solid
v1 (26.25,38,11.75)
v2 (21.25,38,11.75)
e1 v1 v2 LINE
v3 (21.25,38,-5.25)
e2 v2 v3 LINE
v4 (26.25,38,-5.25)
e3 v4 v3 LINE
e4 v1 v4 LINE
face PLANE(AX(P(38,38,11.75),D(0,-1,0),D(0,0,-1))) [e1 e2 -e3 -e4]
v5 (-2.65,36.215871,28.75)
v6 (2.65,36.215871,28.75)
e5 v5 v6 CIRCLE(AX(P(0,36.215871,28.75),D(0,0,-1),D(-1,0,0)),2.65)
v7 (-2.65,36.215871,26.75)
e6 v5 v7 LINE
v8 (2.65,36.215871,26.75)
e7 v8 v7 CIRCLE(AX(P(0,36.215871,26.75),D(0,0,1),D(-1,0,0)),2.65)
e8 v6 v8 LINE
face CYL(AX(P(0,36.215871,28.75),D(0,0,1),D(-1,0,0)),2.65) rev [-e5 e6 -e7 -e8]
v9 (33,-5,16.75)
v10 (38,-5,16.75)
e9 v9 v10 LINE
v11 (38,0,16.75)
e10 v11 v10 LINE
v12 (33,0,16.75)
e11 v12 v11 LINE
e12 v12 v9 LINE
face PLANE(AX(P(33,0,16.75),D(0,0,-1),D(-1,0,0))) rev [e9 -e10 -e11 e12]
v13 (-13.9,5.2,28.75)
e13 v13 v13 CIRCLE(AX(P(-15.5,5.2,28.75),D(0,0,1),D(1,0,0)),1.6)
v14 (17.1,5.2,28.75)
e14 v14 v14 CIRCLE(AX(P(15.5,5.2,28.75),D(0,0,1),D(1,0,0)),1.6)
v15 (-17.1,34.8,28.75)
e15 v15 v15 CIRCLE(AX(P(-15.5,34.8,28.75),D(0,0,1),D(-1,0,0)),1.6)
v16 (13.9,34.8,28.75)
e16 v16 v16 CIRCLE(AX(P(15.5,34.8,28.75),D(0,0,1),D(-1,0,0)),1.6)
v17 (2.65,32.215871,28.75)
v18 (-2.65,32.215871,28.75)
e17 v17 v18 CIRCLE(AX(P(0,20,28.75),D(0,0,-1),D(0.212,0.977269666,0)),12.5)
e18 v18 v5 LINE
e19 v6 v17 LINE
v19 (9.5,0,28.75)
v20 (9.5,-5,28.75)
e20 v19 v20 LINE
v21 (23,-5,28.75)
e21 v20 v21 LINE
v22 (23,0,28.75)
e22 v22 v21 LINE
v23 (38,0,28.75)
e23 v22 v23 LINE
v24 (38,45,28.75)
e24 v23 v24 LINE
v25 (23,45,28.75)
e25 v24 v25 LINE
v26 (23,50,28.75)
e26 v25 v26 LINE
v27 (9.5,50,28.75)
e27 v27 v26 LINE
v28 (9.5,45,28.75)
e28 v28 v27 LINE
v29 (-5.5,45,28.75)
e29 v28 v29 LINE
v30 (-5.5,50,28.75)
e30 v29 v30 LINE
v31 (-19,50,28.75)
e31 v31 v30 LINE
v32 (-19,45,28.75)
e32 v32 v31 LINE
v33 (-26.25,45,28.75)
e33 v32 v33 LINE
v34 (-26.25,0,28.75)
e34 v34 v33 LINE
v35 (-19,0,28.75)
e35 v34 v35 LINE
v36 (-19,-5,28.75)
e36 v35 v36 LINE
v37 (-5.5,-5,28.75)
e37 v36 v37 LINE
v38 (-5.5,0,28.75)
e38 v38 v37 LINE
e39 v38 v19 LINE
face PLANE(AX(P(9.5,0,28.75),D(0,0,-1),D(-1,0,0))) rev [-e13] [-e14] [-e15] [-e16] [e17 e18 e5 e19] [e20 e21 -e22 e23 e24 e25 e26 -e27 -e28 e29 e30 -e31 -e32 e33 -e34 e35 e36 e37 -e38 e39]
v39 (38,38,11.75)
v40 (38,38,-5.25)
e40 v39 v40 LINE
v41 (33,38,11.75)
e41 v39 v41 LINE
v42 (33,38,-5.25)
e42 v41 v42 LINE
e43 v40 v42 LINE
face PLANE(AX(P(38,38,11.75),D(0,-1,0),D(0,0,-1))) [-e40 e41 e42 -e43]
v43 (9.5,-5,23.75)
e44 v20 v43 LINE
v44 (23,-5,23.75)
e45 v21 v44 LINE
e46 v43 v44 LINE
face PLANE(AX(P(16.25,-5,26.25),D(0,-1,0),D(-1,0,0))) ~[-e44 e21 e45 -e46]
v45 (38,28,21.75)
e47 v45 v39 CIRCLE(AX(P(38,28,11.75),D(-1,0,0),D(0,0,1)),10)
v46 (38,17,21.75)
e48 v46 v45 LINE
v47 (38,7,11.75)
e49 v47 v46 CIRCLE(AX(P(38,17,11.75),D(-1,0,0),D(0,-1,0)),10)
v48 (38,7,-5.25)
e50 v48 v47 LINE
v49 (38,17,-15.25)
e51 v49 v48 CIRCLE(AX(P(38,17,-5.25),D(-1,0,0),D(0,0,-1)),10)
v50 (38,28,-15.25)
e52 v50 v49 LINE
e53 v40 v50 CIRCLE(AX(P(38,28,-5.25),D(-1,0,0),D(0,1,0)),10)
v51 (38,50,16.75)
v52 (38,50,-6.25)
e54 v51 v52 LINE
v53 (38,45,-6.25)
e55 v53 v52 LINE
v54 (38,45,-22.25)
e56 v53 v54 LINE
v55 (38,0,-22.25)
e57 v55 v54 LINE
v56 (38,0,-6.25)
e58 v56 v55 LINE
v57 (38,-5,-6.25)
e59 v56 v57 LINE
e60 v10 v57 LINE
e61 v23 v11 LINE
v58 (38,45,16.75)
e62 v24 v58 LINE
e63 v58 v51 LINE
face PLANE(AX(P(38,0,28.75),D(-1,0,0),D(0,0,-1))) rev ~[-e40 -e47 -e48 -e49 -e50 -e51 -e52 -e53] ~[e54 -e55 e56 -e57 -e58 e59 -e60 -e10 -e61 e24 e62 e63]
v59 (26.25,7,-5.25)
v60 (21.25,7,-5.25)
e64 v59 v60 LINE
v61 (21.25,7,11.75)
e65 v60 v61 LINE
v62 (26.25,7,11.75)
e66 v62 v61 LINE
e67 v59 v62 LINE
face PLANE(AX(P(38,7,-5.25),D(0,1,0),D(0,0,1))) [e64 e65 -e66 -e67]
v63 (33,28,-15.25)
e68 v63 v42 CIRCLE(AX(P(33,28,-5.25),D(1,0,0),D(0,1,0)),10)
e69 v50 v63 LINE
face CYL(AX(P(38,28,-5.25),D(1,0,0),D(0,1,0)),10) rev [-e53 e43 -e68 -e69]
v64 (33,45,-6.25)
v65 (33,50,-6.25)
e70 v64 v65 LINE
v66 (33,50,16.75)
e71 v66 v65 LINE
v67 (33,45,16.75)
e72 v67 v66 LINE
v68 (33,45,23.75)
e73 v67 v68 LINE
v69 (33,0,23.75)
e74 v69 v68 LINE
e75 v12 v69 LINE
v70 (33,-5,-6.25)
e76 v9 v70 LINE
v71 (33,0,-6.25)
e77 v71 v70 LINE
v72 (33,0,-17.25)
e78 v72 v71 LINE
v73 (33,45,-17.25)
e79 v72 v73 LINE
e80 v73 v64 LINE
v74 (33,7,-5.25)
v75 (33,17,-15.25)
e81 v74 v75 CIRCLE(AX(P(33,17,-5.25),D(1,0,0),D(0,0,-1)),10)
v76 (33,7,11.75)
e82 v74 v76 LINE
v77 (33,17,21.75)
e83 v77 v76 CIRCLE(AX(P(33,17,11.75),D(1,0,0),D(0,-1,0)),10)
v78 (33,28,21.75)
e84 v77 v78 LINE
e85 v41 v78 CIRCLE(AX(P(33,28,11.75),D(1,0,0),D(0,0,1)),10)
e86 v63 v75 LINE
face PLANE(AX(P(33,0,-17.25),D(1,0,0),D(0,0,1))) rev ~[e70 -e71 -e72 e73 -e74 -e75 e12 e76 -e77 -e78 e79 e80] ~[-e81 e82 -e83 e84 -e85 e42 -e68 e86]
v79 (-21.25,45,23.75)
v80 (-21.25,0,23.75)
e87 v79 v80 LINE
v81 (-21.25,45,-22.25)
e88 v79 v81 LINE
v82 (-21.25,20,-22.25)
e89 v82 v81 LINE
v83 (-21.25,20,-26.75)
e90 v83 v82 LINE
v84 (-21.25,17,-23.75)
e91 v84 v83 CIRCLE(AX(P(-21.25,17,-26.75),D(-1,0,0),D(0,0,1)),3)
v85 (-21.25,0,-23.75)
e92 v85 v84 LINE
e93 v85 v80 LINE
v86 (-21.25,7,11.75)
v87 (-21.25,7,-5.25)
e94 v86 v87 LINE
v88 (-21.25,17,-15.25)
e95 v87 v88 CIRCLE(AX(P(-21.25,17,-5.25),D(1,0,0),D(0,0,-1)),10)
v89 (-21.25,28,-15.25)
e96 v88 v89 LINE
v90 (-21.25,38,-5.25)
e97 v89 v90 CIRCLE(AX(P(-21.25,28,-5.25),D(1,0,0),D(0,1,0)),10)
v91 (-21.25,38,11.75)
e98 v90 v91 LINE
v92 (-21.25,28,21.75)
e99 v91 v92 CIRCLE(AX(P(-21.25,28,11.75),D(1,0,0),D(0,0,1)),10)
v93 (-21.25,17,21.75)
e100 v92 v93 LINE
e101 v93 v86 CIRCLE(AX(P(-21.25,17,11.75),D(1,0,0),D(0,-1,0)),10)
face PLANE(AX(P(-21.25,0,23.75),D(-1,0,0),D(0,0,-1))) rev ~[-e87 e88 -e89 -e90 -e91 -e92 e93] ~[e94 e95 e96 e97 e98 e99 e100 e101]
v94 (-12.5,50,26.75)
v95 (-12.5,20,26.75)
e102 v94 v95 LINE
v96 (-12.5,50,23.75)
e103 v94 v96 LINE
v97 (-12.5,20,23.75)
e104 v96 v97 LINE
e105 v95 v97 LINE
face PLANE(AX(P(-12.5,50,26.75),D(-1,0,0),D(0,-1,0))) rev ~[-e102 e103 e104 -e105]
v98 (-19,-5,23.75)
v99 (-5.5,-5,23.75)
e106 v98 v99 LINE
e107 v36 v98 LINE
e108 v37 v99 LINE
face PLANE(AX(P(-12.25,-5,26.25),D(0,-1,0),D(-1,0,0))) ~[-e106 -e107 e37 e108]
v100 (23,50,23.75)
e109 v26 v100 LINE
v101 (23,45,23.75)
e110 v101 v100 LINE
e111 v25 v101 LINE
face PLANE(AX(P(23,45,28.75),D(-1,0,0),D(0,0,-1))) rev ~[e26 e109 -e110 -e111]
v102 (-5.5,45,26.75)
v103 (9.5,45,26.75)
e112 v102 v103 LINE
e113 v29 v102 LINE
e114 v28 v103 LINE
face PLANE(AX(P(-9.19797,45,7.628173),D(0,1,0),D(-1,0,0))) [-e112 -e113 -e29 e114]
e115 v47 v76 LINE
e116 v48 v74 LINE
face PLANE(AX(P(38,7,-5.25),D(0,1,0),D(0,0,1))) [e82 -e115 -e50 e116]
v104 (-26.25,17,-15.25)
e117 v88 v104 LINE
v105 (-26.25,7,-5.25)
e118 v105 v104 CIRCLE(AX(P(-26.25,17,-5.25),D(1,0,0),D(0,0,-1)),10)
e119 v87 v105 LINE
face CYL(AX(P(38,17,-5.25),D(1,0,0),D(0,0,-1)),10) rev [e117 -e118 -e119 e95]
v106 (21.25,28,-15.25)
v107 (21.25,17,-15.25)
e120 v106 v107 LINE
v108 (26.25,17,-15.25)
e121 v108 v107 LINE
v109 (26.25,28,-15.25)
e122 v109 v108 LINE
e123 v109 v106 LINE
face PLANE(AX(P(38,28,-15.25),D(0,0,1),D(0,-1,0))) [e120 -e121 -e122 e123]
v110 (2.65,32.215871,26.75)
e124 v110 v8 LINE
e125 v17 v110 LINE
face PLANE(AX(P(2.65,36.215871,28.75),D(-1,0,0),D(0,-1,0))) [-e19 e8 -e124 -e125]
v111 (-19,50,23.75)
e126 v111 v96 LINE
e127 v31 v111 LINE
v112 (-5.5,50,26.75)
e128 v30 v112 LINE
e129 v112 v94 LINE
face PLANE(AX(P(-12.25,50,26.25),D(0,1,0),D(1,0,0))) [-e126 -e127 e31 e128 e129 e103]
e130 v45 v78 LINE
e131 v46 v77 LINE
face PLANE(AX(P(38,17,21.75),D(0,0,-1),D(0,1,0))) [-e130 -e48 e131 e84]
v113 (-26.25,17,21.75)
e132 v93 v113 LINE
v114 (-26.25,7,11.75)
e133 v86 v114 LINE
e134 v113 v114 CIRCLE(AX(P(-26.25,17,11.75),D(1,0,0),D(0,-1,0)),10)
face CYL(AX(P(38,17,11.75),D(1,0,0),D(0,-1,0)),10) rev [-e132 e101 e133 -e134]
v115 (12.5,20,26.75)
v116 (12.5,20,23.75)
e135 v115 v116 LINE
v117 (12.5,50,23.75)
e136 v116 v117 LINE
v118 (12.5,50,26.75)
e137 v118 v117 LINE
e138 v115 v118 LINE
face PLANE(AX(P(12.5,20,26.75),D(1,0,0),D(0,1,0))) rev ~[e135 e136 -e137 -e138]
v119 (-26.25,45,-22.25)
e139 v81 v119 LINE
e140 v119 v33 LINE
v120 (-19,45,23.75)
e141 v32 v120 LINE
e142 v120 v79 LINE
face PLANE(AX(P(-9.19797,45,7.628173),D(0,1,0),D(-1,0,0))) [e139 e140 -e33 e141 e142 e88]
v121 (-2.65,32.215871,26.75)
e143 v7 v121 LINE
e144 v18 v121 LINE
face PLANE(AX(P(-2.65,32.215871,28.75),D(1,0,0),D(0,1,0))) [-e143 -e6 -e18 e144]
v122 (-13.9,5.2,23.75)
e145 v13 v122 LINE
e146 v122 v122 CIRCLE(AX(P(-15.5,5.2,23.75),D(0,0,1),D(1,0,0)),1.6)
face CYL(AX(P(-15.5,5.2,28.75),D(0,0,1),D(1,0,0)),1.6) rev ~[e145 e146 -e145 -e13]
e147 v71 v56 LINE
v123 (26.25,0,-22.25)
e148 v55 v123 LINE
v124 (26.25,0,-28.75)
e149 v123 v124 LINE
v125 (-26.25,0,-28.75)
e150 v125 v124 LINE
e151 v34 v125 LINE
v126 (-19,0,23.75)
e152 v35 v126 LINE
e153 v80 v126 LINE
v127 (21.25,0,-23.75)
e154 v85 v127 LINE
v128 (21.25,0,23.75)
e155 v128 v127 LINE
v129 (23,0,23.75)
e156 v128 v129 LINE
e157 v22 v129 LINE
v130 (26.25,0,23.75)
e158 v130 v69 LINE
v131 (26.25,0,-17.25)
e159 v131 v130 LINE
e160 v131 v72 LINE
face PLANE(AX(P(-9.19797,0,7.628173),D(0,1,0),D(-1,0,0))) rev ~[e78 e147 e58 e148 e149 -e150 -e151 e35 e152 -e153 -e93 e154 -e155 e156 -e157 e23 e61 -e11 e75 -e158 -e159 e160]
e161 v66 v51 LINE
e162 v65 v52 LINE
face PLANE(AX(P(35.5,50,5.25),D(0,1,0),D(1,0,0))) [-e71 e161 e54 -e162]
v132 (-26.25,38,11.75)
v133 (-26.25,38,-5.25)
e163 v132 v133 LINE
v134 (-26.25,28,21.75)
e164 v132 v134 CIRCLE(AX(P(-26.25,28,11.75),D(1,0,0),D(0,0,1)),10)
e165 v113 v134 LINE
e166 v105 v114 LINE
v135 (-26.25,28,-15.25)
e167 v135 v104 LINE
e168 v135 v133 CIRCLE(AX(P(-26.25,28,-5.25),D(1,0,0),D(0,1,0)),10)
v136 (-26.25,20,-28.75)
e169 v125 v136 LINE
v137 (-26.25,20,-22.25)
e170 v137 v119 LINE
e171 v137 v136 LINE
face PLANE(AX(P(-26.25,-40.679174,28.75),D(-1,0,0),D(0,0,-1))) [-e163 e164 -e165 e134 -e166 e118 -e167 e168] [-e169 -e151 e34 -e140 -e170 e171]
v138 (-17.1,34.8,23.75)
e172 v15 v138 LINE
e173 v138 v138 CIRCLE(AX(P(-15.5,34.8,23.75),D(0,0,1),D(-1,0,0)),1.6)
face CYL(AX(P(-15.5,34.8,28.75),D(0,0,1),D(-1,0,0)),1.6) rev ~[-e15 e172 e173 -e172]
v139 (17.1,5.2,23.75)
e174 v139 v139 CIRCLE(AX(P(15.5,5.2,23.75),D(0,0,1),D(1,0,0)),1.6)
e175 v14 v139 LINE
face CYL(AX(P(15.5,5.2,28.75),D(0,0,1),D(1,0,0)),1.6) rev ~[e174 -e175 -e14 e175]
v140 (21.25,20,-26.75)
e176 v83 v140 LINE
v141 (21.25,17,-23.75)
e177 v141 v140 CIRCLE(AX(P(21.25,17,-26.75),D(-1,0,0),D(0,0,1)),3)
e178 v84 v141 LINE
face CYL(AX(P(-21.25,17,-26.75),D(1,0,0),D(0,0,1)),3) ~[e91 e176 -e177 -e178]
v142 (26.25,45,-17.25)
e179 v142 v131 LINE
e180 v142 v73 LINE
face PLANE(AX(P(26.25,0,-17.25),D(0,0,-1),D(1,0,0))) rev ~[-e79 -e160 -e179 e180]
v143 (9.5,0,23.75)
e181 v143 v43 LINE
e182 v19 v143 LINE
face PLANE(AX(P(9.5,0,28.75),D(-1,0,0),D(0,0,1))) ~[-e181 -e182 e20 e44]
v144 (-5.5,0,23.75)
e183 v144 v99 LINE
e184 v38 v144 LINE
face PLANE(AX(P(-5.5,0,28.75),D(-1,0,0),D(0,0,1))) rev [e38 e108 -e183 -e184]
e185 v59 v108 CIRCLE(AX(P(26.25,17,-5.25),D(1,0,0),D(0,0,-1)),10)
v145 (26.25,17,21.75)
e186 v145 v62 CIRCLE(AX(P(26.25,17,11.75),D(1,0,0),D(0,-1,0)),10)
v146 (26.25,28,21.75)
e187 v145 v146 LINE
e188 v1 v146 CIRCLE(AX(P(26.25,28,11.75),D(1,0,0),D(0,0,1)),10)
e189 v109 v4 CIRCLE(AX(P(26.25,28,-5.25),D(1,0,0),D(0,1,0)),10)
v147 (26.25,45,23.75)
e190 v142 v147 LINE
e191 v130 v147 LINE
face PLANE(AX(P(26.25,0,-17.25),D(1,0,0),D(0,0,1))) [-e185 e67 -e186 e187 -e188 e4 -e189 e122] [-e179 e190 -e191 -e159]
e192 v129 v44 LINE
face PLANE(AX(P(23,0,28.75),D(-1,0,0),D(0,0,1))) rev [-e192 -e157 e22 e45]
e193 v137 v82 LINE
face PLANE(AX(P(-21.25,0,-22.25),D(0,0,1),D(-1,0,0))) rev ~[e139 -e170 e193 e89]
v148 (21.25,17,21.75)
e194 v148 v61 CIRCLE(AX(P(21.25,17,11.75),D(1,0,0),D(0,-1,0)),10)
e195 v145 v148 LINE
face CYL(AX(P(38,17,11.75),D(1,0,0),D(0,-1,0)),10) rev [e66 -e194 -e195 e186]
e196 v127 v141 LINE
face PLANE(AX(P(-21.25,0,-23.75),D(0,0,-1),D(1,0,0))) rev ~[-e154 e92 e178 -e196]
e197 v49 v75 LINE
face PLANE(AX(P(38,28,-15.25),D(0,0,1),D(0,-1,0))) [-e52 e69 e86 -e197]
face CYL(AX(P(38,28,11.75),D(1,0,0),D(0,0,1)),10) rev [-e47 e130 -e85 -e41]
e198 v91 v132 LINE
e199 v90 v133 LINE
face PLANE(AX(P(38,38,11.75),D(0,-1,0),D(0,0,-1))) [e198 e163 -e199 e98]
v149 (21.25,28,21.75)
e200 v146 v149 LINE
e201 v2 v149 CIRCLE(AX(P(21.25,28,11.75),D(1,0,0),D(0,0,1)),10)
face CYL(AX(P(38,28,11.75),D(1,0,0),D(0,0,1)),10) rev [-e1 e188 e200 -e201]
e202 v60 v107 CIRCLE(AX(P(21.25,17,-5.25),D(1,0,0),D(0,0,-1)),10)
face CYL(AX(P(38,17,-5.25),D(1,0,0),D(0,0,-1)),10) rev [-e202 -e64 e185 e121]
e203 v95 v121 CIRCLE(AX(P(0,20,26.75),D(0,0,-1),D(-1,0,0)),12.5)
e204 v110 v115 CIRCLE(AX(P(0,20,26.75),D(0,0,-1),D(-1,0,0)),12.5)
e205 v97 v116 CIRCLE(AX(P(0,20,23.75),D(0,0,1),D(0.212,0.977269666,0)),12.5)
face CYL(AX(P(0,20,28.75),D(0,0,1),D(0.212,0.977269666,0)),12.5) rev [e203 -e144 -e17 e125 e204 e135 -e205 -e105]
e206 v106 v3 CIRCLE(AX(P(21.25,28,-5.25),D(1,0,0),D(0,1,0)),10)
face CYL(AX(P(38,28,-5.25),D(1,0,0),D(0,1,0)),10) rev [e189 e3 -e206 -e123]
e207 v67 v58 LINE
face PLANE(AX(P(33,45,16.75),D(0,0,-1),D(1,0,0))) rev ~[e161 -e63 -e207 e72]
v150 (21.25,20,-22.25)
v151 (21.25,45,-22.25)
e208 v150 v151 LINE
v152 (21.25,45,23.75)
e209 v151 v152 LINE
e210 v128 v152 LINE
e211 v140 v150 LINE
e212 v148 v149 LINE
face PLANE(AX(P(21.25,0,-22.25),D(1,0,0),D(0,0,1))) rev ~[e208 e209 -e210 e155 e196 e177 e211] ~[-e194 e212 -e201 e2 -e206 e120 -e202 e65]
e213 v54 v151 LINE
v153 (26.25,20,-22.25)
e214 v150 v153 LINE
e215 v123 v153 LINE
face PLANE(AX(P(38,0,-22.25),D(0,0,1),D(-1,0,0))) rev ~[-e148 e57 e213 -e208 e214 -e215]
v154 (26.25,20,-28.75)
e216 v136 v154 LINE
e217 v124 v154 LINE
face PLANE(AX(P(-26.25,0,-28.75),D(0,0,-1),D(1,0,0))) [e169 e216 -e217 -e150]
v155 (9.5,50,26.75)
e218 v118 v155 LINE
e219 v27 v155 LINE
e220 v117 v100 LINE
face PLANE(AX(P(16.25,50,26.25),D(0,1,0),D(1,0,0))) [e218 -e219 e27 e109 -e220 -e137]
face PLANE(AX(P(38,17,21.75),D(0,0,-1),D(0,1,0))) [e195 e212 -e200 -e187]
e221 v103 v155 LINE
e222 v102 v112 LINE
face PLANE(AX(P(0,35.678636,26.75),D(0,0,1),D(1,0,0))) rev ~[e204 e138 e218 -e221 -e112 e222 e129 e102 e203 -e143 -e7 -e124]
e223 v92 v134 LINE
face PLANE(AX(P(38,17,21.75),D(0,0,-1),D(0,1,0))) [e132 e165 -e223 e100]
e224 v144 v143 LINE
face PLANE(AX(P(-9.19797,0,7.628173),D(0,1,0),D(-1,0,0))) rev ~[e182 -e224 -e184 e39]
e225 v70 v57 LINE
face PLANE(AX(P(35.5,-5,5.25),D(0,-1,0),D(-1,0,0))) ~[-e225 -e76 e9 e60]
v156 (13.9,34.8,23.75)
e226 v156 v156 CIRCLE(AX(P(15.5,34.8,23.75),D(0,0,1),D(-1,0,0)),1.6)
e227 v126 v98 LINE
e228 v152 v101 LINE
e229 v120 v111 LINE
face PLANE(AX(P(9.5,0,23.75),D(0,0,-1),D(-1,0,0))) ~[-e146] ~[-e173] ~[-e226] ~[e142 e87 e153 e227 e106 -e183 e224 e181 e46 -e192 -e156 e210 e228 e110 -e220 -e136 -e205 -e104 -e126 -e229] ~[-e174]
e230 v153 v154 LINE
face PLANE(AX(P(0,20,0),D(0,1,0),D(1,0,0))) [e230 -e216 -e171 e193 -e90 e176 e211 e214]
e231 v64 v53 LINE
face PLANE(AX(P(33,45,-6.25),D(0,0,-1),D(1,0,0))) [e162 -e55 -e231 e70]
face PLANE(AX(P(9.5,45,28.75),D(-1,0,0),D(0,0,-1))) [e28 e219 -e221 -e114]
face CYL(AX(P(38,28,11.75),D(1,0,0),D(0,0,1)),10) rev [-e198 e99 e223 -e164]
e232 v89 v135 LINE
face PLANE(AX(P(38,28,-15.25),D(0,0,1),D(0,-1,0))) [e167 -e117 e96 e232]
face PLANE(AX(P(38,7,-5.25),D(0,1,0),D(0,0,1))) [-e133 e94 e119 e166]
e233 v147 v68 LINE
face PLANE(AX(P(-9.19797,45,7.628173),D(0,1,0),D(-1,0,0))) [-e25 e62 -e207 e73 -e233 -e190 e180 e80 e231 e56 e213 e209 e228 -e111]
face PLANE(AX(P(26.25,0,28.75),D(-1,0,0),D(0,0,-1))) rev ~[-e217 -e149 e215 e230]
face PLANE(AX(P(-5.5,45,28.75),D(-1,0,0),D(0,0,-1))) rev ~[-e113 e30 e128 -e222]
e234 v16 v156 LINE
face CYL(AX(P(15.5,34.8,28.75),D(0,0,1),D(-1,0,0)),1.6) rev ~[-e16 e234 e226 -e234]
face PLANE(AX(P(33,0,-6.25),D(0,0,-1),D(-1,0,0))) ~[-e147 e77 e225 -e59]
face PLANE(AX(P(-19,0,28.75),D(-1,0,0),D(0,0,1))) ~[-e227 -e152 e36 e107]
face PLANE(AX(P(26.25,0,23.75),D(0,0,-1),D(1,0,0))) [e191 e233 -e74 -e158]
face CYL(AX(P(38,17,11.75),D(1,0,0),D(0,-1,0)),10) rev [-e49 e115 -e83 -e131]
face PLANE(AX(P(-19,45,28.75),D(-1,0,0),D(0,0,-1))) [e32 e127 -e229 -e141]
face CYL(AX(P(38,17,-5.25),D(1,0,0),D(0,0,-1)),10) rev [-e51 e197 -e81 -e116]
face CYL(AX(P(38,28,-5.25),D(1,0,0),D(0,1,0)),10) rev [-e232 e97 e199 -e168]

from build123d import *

# Parameters (mm, degrees)
ESQUISSE1_W                  = 52.5
ESQUISSE1_H                  = 57.5
ESQUISSE1_W_2                = 42.5
ESQUISSE1_H_2                = 47.5
EXTRU_MINCE1_DEPTH           = 20
ESQUISSE3_W                  = 6.75
ESQUISSE3_H                  = 41
ESQUISSE3_W_2                = 30.75
BOSS_EXTRU_1_DEPTH           = 45
ESQUISSE6_W                  = 5
ESQUISSE6_H                  = 23
ESQUISSE6_W_2                = 13.5
ESQUISSE6_H_2                = 5
BOSS_EXTRU_3_DEPTH           = 5
ENL_V_MAT_EXTRU_1_REACH      = 100.236
ESQUISSE2_R                  = 1.6
ENL_V_START                  = -3
ENL_V_MAT_EXTRU_2_DEPTH      = 3
CONG_1_R                     = 3
ENL_V_MAT_EXTRU_3_DEPTH      = 116.440731547
ENL_V_MAT_EXTRU_4_DEPTH      = 95.578010129
ENL_V_MAT_EXTRU_5_DEPTH      = 85.679173945
ENL_V_MAT_EXTRU_5_DEPTH_BACK = 85.679173945
ESQUISSE10_W                 = 35.75
ESQUISSE10_H                 = 51


with BuildPart() as part:
    # Esquisse1 → Extru.-Mince1 (new body)
    with BuildSketch(Plane(origin=(0, 0, 0), x_dir=(1, 0, 0), z_dir=(0, 1, 0))):
        Rectangle(ESQUISSE1_W, ESQUISSE1_H)
        Rectangle(ESQUISSE1_W_2, ESQUISSE1_H_2, mode=Mode.SUBTRACT)
    extrude(amount=EXTRU_MINCE1_DEPTH)

    # Esquisse3 → Boss.-Extru.1 (add)
    with BuildSketch(Plane.XZ):
        Polygon((26.25, 28.75), (38, 28.75), (38, -22.25), (21.25, -22.25), (21.25, 23.75), (-21.25, 23.75), (-21.25, -22.25), (-62, -22.25), (-62, 28.75), (-26.25, 28.75), (0, 28.75), align=None)
        with Locations((29.625, 3.25)):
            Rectangle(ESQUISSE3_W, ESQUISSE3_H, mode=Mode.SUBTRACT)
        with Locations((-41.625, 3.25)):
            Rectangle(ESQUISSE3_W_2, ESQUISSE3_H, mode=Mode.SUBTRACT)
    extrude(amount=-BOSS_EXTRU_1_DEPTH)

    # Esquisse6 → Boss.-Extru.3 (add)
    with BuildSketch(Plane(origin=(0, 45, 0), x_dir=(1, 0, 0), z_dir=(0, 1, 0))):
        with Locations((35.5, -5.25)):
            Rectangle(ESQUISSE6_W, ESQUISSE6_H)
        with Locations((16.25, -26.25)):
            Rectangle(ESQUISSE6_W_2, ESQUISSE6_H_2)
        with Locations((-12.25, -26.25)):
            Rectangle(ESQUISSE6_W_2, ESQUISSE6_H_2)
        with Locations((-40.75, -26.25)):
            Rectangle(ESQUISSE6_W_2, ESQUISSE6_H_2)
        with Locations((-40.75, 19.75)):
            Rectangle(ESQUISSE6_W_2, ESQUISSE6_H_2)
        with Locations((-59.5, -5.25)):
            Rectangle(ESQUISSE6_W, ESQUISSE6_H)
    boss_extru_3 = extrude(amount=BOSS_EXTRU_3_DEPTH)

    # Esquisse2 → Enlèv. mat.-Extru.1 (cut, up to next)
    with BuildSketch(Plane.XY.offset(28.75), mode=Mode.PRIVATE) as enl_v_mat_extru_1_sk1:
        with Locations((-15.5, 5.2)):
            Circle(ESQUISSE2_R)
    enl_v_mat_extru_1_tool1 = extrude(enl_v_mat_extru_1_sk1.sketch, amount=-ENL_V_MAT_EXTRU_1_REACH, mode=Mode.PRIVATE) & part.part
    # Esquisse2 → Enlèv. mat.-Extru.1 (cut, up to next)
    with BuildSketch(Plane.XY.offset(28.75), mode=Mode.PRIVATE) as enl_v_mat_extru_1_sk2:
        with Locations((15.5, 5.2)):
            Circle(ESQUISSE2_R)
    enl_v_mat_extru_1_tool2 = extrude(enl_v_mat_extru_1_sk2.sketch, amount=-ENL_V_MAT_EXTRU_1_REACH, mode=Mode.PRIVATE) & part.part
    # Esquisse2 → Enlèv. mat.-Extru.1 (cut, up to next)
    with BuildSketch(Plane.XY.offset(28.75), mode=Mode.PRIVATE) as enl_v_mat_extru_1_sk3:
        with Locations(Location((15.5, 34.8, 0), (0, 0, 180))):
            Circle(ESQUISSE2_R)
    enl_v_mat_extru_1_tool3 = extrude(enl_v_mat_extru_1_sk3.sketch, amount=-ENL_V_MAT_EXTRU_1_REACH, mode=Mode.PRIVATE) & part.part
    # Esquisse2 → Enlèv. mat.-Extru.1 (cut, up to next)
    with BuildSketch(Plane.XY.offset(28.75), mode=Mode.PRIVATE) as enl_v_mat_extru_1_sk4:
        with Locations(Location((-15.5, 34.8, 0), (0, 0, 180))):
            Circle(ESQUISSE2_R)
    enl_v_mat_extru_1_tool4 = extrude(enl_v_mat_extru_1_sk4.sketch, amount=-ENL_V_MAT_EXTRU_1_REACH, mode=Mode.PRIVATE) & part.part
    # Esquisse2 → Enlèv. mat.-Extru.1 (cut, up to next)
    with BuildSketch(Plane.XY.offset(28.75), mode=Mode.PRIVATE) as enl_v_mat_extru_1_sk5:
        with BuildLine():
            Line((2.65, 36.215870824), (2.65, 32.215870824))
            ThreePointArc((2.65, 32.215870824), (0, 7.5), (-2.65, 32.215870824))
            Line((-2.65, 32.215870824), (-2.65, 36.215870824))
            ThreePointArc((-2.65, 36.215870824), (0, 38.865870824), (2.65, 36.215870824))
        make_face()
    enl_v_mat_extru_1_tool5 = extrude(enl_v_mat_extru_1_sk5.sketch, amount=-ENL_V_MAT_EXTRU_1_REACH, mode=Mode.PRIVATE) & part.part
    add(enl_v_mat_extru_1_tool1.solids().sort_by_distance((-15.5, 5.2, 28.75))[0], mode=Mode.SUBTRACT)
    add(enl_v_mat_extru_1_tool2.solids().sort_by_distance((15.5, 5.2, 28.75))[0], mode=Mode.SUBTRACT)
    add(enl_v_mat_extru_1_tool3.solids().sort_by_distance((15.5, 34.8, 28.75))[0], mode=Mode.SUBTRACT)
    add(enl_v_mat_extru_1_tool4.solids().sort_by_distance((-15.5, 34.8, 28.75))[0], mode=Mode.SUBTRACT)
    add(enl_v_mat_extru_1_tool5.solids().sort_by_distance((0, 20.91985, 28.75))[0], mode=Mode.SUBTRACT)

    # Esquisse4 → Enlèv. mat.-Extru.2 (cut)
    with BuildSketch(Plane(origin=(0, 0, 23.75), x_dir=(-1, 0, 0), z_dir=(0, 0, -1)).offset(ENL_V_START)):
        with BuildLine():
            Line((-12.5, 20), (-12.5, 50))
            Line((-12.5, 50), (12.5, 50))
            Line((12.5, 50), (12.5, 20))
            ThreePointArc((12.5, 20), (0, 32.5), (-12.5, 20))
        make_face()
    extrude(amount=ENL_V_MAT_EXTRU_2_DEPTH, mode=Mode.SUBTRACT)

    # Symétrie1: Boss.-Extru.3 across plane
    add(boss_extru_3.mirror(Plane(origin=(0, 22.5, 0), x_dir=(0, 0, 1), z_dir=(0, -1, 0))))

    # Congé1
    cong_1_edges = [part.edges().sort_by_distance(p)[0] for p in [
        (0, 20, -23.75),
    ]]
    fillet(cong_1_edges, radius=CONG_1_R)

    # Esquisse7 → Enlèv. mat.-Extru.3 (cut, through all)
    with BuildSketch(Plane(origin=(38, 0, 0), x_dir=(0, 0, -1), z_dir=(1, 0, 0))):
        with BuildLine():
            Line((-11.75, 38), (5.25, 38))
            ThreePointArc((5.25, 38), (12.321067812, 35.071067812), (15.25, 28))
            Line((15.25, 28), (15.25, 17))
            ThreePointArc((15.25, 17), (12.321067812, 9.928932188), (5.25, 7))
            Line((5.25, 7), (-11.75, 7))
            ThreePointArc((-11.75, 7), (-18.821067812, 9.928932188), (-21.75, 17))
            Line((-21.75, 17), (-21.75, 28))
            ThreePointArc((-21.75, 28), (-18.821067812, 35.071067812), (-11.75, 38))
        make_face()
    extrude(amount=-ENL_V_MAT_EXTRU_3_DEPTH, mode=Mode.SUBTRACT)

    # Esquisse8 → Enlèv. mat.-Extru.4 (cut, through all)
    with BuildSketch(Plane(origin=(0, 0, -22.25), x_dir=(-1, 0, 0), z_dir=(0, 0, -1))):
        with BuildLine():
            Line((48.625, 30), (48.625, 15))
            ThreePointArc((48.625, 15), (41.625, 8), (34.625, 15))
            Line((34.625, 15), (34.625, 30))
            ThreePointArc((34.625, 30), (41.625, 37), (48.625, 30))
        make_face()
    extrude(amount=-ENL_V_MAT_EXTRU_4_DEPTH, mode=Mode.SUBTRACT)

    # Esquisse10 → Enlèv. mat.-Extru.5 (cut, two sides: drawn at the far end of the back side and taken through both)
    with BuildSketch(Plane(origin=(0, 45, 0), x_dir=(1, 0, 0), z_dir=(0, 1, 0)).offset(-ENL_V_MAT_EXTRU_5_DEPTH_BACK)):
        with Locations((-44.125, -3.25)):
            Rectangle(ESQUISSE10_W, ESQUISSE10_H)
    extrude(amount=ENL_V_MAT_EXTRU_5_DEPTH + ENL_V_MAT_EXTRU_5_DEPTH_BACK, mode=Mode.SUBTRACT)


solid = part.part
